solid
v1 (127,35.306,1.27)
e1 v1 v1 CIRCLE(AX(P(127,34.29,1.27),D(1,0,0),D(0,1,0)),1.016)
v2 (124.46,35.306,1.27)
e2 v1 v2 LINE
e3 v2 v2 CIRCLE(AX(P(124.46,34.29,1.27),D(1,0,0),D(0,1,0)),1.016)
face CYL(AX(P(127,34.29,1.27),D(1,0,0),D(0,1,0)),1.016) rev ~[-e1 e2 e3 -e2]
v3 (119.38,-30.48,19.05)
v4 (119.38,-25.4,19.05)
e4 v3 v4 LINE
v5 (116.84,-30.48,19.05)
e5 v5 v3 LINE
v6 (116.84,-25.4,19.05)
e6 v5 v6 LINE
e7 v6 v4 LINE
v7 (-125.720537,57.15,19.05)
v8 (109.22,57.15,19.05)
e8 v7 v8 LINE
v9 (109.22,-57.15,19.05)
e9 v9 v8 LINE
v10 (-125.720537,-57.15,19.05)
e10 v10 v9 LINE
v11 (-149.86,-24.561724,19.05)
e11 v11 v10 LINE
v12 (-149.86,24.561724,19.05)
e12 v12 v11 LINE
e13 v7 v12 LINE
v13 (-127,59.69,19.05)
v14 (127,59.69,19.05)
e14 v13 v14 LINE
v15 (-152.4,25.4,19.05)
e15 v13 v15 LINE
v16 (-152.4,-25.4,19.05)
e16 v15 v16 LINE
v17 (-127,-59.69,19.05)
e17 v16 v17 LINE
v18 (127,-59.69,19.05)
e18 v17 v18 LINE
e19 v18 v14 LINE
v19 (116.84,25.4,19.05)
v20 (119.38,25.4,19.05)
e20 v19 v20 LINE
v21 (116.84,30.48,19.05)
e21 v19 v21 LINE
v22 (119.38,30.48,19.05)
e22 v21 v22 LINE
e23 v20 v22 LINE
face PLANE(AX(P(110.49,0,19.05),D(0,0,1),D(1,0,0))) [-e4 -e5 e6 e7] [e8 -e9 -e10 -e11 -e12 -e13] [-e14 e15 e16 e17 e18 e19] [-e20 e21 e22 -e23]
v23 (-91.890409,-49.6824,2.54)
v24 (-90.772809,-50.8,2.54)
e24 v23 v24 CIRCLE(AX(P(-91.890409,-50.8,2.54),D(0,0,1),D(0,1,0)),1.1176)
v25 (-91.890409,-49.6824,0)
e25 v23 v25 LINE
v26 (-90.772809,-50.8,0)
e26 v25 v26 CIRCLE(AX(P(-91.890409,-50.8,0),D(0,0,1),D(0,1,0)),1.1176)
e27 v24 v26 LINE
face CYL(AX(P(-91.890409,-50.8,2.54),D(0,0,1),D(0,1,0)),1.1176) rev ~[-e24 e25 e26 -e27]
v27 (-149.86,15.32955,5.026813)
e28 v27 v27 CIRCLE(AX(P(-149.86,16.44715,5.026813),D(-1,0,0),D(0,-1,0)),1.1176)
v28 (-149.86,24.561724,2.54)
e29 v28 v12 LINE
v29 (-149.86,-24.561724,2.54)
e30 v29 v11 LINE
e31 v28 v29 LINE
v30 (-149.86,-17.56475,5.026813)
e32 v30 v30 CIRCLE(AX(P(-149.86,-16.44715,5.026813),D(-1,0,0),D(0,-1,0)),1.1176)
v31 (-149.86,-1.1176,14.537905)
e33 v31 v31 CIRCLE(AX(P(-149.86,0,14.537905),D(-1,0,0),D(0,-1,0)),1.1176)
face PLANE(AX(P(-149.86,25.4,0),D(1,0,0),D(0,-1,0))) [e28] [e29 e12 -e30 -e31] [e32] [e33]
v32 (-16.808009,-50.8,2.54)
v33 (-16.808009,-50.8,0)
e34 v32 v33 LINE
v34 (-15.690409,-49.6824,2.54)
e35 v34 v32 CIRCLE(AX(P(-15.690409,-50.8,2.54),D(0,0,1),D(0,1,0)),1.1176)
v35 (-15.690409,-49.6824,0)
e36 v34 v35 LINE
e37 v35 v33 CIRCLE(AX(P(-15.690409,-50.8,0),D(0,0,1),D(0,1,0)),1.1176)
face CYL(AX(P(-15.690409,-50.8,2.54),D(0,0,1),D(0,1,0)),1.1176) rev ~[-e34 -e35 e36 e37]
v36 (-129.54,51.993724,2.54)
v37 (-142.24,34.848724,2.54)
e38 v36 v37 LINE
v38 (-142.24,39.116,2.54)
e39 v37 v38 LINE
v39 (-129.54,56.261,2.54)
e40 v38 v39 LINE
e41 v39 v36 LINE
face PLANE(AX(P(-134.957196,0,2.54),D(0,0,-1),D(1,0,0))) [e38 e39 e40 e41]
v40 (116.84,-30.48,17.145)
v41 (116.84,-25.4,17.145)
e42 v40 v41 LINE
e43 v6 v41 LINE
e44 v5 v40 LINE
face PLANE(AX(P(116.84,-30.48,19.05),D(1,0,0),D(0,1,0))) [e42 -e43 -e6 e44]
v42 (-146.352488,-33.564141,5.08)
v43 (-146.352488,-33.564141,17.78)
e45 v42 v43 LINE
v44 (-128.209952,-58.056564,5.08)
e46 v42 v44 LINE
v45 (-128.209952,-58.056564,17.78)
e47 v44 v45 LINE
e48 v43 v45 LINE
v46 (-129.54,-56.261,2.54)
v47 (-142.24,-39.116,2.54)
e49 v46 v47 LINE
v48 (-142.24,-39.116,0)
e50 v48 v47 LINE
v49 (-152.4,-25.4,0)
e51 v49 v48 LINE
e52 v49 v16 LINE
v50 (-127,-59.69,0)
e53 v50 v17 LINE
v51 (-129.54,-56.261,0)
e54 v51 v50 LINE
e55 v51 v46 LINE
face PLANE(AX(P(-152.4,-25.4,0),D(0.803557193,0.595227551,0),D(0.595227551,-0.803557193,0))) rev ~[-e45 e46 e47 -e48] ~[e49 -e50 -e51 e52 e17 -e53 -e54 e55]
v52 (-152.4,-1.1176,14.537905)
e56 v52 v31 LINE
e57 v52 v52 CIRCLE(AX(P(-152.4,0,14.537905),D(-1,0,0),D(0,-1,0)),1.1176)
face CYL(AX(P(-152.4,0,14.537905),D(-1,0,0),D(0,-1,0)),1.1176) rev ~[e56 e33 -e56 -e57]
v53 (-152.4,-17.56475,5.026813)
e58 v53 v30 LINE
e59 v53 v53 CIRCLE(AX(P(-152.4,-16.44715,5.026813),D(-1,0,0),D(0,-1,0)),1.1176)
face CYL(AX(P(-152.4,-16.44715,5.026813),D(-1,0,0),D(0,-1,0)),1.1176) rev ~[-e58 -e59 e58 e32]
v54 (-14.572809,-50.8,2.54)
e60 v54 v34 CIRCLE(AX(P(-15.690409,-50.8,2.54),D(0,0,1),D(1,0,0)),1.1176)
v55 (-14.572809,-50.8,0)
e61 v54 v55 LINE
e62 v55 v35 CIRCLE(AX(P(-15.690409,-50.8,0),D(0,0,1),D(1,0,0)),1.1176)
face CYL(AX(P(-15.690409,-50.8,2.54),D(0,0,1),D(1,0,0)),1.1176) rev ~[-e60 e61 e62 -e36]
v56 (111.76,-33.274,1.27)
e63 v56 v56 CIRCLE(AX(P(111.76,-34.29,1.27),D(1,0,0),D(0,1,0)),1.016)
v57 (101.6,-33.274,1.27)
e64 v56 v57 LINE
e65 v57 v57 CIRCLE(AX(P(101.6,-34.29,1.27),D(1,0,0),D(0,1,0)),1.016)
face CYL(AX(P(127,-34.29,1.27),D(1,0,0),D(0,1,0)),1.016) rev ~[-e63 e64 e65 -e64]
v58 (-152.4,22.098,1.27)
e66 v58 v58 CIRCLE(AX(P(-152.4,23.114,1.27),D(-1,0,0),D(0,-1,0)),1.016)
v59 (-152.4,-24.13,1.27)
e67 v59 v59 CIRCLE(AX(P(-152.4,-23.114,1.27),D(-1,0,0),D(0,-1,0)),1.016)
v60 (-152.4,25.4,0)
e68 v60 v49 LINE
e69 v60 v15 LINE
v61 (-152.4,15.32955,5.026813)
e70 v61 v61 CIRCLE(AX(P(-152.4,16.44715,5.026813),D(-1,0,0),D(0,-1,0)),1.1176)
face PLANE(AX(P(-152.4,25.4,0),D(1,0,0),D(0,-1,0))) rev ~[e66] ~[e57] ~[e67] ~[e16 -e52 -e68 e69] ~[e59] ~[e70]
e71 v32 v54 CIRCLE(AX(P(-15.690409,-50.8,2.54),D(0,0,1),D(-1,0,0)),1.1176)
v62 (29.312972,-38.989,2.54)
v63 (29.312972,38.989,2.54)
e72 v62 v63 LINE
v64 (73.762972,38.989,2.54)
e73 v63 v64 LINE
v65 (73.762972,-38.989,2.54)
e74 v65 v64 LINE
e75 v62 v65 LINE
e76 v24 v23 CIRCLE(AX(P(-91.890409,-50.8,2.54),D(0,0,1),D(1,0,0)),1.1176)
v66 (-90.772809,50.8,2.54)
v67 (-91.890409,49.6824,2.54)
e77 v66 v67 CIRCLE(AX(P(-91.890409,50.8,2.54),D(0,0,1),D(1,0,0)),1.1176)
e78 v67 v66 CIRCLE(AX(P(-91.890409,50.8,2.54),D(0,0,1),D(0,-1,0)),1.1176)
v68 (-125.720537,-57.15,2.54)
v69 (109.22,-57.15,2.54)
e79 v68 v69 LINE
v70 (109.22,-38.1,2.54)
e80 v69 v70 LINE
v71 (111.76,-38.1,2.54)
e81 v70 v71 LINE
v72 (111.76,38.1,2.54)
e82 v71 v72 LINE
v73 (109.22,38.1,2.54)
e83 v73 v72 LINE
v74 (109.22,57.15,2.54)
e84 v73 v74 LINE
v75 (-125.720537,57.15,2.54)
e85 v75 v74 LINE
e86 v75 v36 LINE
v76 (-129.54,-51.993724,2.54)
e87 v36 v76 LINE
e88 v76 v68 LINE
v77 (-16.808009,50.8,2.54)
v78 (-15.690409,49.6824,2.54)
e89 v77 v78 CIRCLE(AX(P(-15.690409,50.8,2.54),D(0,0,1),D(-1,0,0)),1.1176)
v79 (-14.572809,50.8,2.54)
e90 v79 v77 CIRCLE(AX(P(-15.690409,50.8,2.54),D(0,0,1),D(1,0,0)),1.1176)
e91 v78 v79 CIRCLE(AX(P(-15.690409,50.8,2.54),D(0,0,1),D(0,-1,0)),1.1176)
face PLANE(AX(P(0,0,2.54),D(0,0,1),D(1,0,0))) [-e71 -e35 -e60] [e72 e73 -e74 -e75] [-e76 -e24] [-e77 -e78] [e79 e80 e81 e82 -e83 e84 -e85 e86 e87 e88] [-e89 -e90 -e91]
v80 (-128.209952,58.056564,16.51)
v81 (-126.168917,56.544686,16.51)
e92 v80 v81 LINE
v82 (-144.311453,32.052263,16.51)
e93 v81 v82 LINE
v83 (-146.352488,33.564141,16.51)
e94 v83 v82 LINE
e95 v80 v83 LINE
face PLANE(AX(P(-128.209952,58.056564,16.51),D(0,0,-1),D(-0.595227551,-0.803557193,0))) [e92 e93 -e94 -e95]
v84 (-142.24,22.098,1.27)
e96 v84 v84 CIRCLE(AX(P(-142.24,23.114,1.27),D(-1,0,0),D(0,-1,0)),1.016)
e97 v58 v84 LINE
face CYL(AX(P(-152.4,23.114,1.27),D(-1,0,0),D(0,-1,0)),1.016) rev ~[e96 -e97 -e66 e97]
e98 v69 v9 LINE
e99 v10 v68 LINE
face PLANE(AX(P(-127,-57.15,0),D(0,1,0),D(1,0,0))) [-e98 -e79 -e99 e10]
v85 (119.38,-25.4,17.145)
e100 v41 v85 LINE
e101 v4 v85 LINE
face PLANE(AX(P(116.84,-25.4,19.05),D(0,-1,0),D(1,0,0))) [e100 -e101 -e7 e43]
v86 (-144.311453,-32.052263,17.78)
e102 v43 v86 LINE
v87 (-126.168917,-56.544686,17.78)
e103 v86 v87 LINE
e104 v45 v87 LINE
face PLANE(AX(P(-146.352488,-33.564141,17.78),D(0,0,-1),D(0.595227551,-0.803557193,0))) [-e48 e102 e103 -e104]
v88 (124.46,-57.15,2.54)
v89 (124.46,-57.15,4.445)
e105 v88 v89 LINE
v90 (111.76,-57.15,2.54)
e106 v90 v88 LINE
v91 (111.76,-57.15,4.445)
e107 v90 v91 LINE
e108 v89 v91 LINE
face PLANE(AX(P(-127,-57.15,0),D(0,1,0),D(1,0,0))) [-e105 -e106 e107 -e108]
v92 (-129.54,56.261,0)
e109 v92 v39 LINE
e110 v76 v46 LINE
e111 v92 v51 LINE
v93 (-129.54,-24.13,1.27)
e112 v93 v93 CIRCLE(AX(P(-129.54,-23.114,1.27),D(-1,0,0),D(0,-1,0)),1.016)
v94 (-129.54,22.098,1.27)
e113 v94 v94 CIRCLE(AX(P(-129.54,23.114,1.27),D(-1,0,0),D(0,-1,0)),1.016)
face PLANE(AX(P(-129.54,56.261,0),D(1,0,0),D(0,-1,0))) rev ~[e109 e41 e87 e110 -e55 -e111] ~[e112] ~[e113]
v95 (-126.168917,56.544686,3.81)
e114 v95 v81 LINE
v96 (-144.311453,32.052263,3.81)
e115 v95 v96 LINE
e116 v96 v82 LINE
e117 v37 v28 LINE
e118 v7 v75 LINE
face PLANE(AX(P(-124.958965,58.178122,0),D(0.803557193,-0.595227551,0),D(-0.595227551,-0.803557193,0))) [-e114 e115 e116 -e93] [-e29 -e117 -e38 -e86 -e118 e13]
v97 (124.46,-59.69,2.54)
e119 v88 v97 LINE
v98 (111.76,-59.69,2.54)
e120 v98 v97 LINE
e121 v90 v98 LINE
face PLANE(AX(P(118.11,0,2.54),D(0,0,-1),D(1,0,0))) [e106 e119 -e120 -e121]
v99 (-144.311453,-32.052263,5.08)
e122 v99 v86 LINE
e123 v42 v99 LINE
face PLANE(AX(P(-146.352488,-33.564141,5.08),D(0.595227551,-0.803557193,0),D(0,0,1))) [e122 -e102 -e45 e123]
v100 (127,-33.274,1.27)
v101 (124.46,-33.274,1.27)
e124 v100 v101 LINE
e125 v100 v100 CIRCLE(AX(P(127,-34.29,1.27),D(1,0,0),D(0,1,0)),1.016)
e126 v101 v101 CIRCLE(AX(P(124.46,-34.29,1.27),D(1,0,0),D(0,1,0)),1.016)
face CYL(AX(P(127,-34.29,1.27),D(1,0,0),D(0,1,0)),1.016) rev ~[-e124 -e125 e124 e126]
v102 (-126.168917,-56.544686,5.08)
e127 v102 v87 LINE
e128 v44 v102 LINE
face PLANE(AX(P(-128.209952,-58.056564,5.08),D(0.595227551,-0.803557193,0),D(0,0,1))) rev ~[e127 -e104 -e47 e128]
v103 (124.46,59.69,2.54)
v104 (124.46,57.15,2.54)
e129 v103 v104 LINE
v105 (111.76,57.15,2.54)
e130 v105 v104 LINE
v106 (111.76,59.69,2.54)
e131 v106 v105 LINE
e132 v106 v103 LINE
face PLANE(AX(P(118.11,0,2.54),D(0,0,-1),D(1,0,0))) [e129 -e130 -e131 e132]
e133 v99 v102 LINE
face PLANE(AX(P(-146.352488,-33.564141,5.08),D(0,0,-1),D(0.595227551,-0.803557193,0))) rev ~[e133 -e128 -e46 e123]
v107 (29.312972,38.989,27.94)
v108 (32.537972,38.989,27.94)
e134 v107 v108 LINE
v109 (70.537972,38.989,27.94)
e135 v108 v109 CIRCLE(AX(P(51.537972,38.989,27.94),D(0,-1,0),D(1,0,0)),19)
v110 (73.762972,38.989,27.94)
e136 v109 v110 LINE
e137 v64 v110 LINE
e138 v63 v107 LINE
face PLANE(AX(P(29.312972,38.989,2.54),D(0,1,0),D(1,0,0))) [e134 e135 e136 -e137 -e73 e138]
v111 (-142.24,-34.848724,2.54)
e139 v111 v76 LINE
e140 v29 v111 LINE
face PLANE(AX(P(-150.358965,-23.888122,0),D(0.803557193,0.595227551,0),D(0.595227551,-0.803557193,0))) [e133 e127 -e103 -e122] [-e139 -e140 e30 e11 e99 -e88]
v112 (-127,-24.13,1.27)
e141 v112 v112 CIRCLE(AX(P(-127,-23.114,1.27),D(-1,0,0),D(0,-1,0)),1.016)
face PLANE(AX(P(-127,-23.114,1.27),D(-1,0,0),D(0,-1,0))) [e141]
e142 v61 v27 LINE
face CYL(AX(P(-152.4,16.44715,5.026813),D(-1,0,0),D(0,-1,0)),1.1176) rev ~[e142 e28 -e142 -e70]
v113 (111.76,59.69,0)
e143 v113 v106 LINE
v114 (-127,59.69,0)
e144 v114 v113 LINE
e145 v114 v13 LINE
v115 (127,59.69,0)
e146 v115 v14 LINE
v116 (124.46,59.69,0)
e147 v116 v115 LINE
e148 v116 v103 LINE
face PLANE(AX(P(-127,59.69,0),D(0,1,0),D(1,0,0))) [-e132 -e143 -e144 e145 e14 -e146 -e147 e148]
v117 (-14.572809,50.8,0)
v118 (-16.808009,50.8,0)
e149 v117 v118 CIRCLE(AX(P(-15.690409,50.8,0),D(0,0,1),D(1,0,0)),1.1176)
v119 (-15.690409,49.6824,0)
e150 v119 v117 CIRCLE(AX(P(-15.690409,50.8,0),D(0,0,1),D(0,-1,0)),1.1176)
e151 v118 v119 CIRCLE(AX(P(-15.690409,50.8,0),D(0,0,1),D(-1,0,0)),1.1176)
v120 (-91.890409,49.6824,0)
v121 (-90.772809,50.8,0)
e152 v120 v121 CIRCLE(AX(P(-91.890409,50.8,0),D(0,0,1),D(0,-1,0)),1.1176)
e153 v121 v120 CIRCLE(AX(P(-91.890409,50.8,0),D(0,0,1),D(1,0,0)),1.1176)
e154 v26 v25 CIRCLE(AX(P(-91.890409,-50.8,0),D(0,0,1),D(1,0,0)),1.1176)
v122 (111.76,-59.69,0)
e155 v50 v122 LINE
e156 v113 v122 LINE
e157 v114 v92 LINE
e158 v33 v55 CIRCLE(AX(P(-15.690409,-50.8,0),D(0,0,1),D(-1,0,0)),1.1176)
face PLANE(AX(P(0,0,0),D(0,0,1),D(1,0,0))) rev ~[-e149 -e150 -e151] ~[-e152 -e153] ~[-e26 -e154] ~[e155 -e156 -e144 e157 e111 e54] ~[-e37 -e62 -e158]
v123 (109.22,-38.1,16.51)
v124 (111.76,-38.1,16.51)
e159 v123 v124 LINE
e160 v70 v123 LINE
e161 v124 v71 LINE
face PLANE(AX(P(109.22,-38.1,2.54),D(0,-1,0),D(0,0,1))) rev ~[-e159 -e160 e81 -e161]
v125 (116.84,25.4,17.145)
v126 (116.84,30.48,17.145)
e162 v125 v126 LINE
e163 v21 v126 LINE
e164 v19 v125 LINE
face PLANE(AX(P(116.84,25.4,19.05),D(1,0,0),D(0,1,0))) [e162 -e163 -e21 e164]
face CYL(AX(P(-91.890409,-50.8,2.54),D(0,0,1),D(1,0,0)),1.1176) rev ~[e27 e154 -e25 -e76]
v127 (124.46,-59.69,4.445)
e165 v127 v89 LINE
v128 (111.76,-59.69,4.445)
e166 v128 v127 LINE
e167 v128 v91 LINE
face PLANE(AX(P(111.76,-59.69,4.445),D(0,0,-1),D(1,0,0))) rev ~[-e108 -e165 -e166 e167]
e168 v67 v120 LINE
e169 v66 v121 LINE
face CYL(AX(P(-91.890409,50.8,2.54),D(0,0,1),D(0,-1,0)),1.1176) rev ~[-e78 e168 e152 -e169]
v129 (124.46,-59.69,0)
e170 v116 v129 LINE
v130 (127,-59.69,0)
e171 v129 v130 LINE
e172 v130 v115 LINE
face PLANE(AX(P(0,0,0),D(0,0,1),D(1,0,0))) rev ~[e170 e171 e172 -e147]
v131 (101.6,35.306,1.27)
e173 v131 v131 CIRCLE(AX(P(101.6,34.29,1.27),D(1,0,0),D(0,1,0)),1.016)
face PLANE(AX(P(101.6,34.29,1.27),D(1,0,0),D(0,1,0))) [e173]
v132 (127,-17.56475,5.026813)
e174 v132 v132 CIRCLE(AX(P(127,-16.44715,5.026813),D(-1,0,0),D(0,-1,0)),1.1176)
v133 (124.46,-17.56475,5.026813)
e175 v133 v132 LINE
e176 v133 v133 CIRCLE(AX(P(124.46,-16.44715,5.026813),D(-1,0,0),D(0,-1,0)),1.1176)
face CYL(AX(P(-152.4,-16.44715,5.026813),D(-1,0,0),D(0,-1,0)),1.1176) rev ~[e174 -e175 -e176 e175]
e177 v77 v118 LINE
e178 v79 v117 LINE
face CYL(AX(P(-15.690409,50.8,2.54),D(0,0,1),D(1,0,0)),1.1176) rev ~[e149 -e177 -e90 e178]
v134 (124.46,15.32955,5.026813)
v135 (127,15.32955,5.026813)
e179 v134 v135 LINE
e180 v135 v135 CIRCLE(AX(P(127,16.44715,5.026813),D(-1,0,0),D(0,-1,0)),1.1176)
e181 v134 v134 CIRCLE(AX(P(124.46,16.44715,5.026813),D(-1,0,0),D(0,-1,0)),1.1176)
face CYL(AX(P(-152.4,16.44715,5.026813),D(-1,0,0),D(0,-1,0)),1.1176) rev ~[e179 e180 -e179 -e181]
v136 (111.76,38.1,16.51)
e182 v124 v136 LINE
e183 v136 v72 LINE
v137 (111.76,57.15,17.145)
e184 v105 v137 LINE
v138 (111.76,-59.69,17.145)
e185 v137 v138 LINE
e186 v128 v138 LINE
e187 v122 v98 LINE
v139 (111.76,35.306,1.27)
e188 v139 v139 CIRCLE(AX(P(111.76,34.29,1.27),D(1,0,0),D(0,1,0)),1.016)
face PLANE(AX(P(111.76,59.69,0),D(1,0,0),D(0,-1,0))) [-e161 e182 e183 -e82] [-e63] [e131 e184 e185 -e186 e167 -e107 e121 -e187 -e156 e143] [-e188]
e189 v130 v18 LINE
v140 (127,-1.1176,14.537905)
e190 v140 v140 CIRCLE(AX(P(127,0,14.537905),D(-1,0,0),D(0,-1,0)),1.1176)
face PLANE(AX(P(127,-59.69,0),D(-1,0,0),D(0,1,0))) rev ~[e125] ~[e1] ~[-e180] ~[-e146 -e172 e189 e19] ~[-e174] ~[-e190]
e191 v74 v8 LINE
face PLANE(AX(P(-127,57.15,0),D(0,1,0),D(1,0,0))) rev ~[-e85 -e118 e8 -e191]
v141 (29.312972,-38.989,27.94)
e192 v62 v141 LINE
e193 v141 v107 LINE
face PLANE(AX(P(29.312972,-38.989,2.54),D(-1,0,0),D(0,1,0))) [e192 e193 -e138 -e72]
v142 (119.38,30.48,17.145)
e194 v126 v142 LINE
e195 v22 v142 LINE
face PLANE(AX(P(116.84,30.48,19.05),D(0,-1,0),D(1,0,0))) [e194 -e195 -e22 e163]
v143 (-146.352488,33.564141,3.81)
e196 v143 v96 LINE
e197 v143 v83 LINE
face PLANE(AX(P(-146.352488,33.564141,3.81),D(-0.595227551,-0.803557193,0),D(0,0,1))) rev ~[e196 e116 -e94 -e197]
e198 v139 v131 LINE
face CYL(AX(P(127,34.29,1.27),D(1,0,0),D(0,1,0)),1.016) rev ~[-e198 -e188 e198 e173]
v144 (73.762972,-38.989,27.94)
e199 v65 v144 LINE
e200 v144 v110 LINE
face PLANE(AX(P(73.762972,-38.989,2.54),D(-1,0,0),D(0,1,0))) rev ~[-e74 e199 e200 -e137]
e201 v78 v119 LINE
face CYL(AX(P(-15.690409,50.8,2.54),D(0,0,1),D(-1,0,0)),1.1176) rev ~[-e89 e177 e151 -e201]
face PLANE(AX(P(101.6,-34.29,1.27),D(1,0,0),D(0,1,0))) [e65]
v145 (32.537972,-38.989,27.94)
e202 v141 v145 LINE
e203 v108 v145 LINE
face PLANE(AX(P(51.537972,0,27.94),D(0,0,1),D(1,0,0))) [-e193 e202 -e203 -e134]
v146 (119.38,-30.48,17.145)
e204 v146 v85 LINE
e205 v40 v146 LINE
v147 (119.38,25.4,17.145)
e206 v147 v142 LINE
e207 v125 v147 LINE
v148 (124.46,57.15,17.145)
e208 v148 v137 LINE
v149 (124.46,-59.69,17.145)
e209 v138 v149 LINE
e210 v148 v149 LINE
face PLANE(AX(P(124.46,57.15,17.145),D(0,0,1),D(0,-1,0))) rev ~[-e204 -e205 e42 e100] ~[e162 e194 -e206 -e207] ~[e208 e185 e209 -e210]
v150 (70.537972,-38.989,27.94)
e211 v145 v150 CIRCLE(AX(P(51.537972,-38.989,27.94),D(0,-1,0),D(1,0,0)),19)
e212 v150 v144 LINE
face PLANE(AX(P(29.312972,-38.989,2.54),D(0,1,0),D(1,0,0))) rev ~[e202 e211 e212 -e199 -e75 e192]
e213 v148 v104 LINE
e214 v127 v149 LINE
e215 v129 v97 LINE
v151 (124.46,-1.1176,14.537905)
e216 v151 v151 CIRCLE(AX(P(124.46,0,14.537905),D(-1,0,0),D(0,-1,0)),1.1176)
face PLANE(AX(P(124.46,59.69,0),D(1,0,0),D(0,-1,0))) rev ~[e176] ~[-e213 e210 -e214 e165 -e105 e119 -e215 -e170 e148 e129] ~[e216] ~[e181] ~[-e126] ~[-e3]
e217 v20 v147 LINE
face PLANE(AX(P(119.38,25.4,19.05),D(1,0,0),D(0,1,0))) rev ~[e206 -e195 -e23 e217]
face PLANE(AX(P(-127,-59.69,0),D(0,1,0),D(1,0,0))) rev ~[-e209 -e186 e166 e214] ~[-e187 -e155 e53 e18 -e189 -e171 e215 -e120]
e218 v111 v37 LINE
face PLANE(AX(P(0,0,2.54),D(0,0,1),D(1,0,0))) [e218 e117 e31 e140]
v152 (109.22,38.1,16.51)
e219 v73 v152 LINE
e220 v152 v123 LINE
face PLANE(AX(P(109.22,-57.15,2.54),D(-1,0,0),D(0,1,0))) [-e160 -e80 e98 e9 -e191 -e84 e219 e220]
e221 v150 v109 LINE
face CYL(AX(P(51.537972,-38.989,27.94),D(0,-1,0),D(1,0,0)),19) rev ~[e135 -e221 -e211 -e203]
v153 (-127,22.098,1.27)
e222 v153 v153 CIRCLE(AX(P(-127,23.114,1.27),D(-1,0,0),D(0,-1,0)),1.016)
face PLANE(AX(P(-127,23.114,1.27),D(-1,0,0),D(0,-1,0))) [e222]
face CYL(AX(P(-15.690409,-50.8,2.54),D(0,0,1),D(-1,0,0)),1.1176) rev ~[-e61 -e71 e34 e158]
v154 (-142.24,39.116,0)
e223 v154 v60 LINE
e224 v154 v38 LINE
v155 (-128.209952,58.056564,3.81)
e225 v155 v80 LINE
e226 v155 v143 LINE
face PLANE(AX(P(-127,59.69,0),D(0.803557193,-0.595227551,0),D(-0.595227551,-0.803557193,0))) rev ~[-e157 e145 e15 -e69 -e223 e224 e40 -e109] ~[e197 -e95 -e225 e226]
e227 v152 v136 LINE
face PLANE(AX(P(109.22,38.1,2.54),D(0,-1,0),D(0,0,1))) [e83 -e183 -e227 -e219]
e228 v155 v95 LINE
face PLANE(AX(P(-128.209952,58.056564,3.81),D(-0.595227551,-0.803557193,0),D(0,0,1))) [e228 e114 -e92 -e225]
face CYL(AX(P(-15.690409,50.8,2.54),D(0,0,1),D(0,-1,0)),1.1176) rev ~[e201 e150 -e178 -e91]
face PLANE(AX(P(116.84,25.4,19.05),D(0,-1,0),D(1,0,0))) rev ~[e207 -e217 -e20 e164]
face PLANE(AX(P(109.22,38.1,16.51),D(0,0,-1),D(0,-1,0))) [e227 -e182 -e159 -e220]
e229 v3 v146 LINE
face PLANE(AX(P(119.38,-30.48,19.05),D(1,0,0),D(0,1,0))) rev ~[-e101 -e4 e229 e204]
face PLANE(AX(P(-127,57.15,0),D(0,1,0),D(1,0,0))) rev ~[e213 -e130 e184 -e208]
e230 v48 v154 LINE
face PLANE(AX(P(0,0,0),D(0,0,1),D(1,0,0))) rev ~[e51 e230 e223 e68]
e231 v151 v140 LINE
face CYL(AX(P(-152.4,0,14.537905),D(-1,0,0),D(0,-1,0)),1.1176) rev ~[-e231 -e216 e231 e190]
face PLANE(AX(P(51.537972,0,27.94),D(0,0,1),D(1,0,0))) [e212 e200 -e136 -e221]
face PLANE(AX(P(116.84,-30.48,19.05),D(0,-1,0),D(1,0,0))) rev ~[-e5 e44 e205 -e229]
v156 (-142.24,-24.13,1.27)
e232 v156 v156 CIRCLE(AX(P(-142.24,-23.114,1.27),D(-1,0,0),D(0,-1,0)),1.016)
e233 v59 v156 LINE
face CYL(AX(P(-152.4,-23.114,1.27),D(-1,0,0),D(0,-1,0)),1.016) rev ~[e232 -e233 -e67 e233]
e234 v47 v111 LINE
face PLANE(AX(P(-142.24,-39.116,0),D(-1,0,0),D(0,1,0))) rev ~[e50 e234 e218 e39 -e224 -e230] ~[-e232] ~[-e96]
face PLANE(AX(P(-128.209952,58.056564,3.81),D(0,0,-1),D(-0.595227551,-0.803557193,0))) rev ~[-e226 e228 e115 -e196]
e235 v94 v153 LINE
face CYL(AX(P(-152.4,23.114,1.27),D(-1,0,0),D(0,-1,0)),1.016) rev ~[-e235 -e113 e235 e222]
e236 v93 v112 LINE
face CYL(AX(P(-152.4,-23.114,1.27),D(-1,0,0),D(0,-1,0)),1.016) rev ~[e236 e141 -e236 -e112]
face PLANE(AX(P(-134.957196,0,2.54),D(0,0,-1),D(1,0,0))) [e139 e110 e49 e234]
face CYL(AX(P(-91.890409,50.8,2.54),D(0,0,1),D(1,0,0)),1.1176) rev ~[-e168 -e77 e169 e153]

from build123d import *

# Parameters (mm, degrees)
F0_W      = 254
F0_H      = 119.38
F1_DEPTH  = 19.05
F2_T      = -2.54
F3_W      = 30.48
F3_H      = 12.7
F4_DEPTH  = 2.54
F5_W      = 12.7
F5_H      = 119.38
F6_DEPTH  = 2.54
F7_R      = 1.016
F8_DEPTH  = 25.4
F9_R      = 1.016
F10_DEPTH = 25.4
F11_W     = 30.48
F11_H     = 12.7
F12_DEPTH = 2.54
F13_W     = 12.7
F13_H     = 12.7
F14_DEPTH = 101.6
F15_R     = 1.1176
F16_DEPTH = 84.582
F17_R     = 1.1176
F18_DEPTH = 279.4
F20_DEPTH = 2.54
F21_W     = 44.45
F21_H     = 77.978
F22_DEPTH = 25.4
F23_R     = 19
F24_DEPTH = 77.978
F25_W     = 114.3
F25_H     = 1.905
F26_DEPTH = 12.7
F27_W     = 2.54
F27_H     = 114.3
F28_DEPTH = 16.51
F29_W     = 2.54
F29_H     = 5.08
F30_DEPTH = 25.4
F31_W     = 76.2
F31_H     = 13.97
F32_DEPTH = 5.08


with BuildPart() as f1:
    # F0 (on Top) → F1 (new body)
    with BuildSketch(Plane.XY):
        Rectangle(F0_W, F0_H)
        Polygon((-152.4, -25.4), (-127, -59.69), (-127, 59.69), (-152.4, 25.4), align=None)
    extrude(amount=F1_DEPTH)

    # F2
    f2_openings = [f1.faces().sort_by_distance(p)[0] for p in [
        (-9.181331, 0, 19.05),
    ]]
    offset(amount=F2_T, openings=f2_openings)

    # F3 (on face) → F4 (cut)
    with BuildSketch(Plane(origin=(-110.5541186891, -81.8919397697, 0), x_dir=(0.5952275506, -0.8035571933, 0), z_dir=(-0.8035571933, -0.5952275506, 0))):
        with Locations((-44.9023260044, 11.43)):
            Rectangle(F3_W, F3_H)
    extrude(amount=-F4_DEPTH, mode=Mode.SUBTRACT)

    # F5 (on face) → F6 (cut)
    with BuildSketch(Plane(origin=(0, 0, 0), x_dir=(1, 0, 0), z_dir=(0, 0, -1))):
        Polygon((-129.54, -56.261), (-129.54, 56.261), (-142.24, 39.116), (-142.24, -39.116), align=None)
        with Locations((118.11, 0)):
            Rectangle(F5_W, F5_H)
    extrude(amount=-F6_DEPTH, mode=Mode.SUBTRACT)

    # F7 (on face) → F8 (cut)
    with BuildSketch(Plane(origin=(-152.4, 0, 0), x_dir=(0, -1, 0), z_dir=(-1, 0, 0))):
        with Locations((-23.114, 1.27)):
            Circle(F7_R)
        with Locations((23.114, 1.27)):
            Circle(F7_R)
    extrude(amount=-F8_DEPTH, mode=Mode.SUBTRACT)

    # F9 (on face) → F10 (cut)
    with BuildSketch(Plane.YZ.offset(127)):
        with Locations((-34.29, 1.27)):
            Circle(F9_R)
        with Locations((34.29, 1.27)):
            Circle(F9_R)
    extrude(amount=-F10_DEPTH, mode=Mode.SUBTRACT)

    # F11 (on face) → F12 (cut)
    with BuildSketch(Plane(origin=(-110.5541186891, 81.8919397697, 0), x_dir=(-0.5952275506, -0.8035571933, 0), z_dir=(-0.8035571933, 0.5952275506, 0))):
        with Locations((44.9023260044, 10.16)):
            Rectangle(F11_W, F11_H)
    extrude(amount=-F12_DEPTH, mode=Mode.SUBTRACT)

    # F13 (on face) → F14 (cut)
    with BuildSketch(Plane.XZ.offset(59.69)):
        with Locations((118.11, 10.795)):
            Rectangle(F13_W, F13_H)
    extrude(amount=-F14_DEPTH, mode=Mode.SUBTRACT)

    # F15 (on Right) → F16 (cut, symmetric)
    with BuildSketch(Plane.YZ):
        with Locations((0, 11.811)):
            Circle(F15_R)
        with Locations((-17.78, 5.08)):
            Circle(F15_R)
        with Locations((17.78, 5.08)):
            Circle(F15_R)
    extrude(amount=F16_DEPTH, both=True, mode=Mode.SUBTRACT)

    # F17 (on face) → F18 (cut)
    with BuildSketch(Plane(origin=(-152.4, 0, 0), x_dir=(0, -1, 0), z_dir=(-1, 0, 0))):
        with Locations((-16.4471499023, 5.0268133191)):
            Circle(F17_R)
        with Locations((16.4471499023, 5.0268133191)):
            Circle(F17_R)
        with Locations((0, 14.5379047776)):
            Circle(F17_R)
    extrude(amount=-F18_DEPTH, mode=Mode.SUBTRACT)

    # F19 (on face) → F20 (cut)
    with BuildSketch(Plane.XY.offset(2.54)):
        with BuildLine():
            Line((-91.8904091179, -50.8), (-90.7728091179, -50.8))
            ThreePointArc((-90.7728091179, -50.8), (-91.1001465793, -50.0097374613), (-91.8904091179, -49.6824))
            Line((-91.8904091179, -49.6824), (-91.8904091179, -50.8))
        make_face()
        with BuildLine():
            ThreePointArc((-91.8904091179, -49.6824), (-92.6806716566, -51.5902625387), (-90.7728091179, -50.8))
            Line((-90.7728091179, -50.8), (-91.8904091179, -50.8))
            Line((-91.8904091179, -50.8), (-91.8904091179, -49.6824))
        make_face()
        with BuildLine():
            Line((-15.6904091179, -50.8), (-16.8080091179, -50.8))
            ThreePointArc((-16.8080091179, -50.8), (-15.6904091179, -51.9176), (-14.5728091179, -50.8))
            ThreePointArc((-14.5728091179, -50.8), (-14.9001465793, -50.0097374613), (-15.6904091179, -49.6824))
            Line((-15.6904091179, -49.6824), (-15.6904091179, -50.8))
        make_face()
        with BuildLine():
            ThreePointArc((-15.6904091179, -49.6824), (-16.4806716566, -50.0097374613), (-16.8080091179, -50.8))
            Line((-16.8080091179, -50.8), (-15.6904091179, -50.8))
            Line((-15.6904091179, -50.8), (-15.6904091179, -49.6824))
        make_face()
        with BuildLine():
            Line((-15.6904091179, 50.8), (-15.6904091179, 49.6824))
            ThreePointArc((-15.6904091179, 49.6824), (-14.9001465793, 50.0097374613), (-14.5728091179, 50.8))
            ThreePointArc((-14.5728091179, 50.8), (-15.6904091179, 51.9176), (-16.8080091179, 50.8))
            Line((-16.8080091179, 50.8), (-15.6904091179, 50.8))
        make_face()
        with BuildLine():
            ThreePointArc((-16.8080091179, 50.8), (-16.4806716566, 50.0097374613), (-15.6904091179, 49.6824))
            Line((-15.6904091179, 49.6824), (-15.6904091179, 50.8))
            Line((-15.6904091179, 50.8), (-16.8080091179, 50.8))
        make_face()
        with BuildLine():
            ThreePointArc((-90.7728091179, 50.8), (-92.6806716566, 51.5902625387), (-91.8904091179, 49.6824))
            Line((-91.8904091179, 49.6824), (-91.8904091179, 50.8))
            Line((-91.8904091179, 50.8), (-90.7728091179, 50.8))
        make_face()
        with BuildLine():
            Line((-91.8904091179, 50.8), (-91.8904091179, 49.6824))
            ThreePointArc((-91.8904091179, 49.6824), (-91.1001465793, 50.0097374613), (-90.7728091179, 50.8))
            Line((-90.7728091179, 50.8), (-91.8904091179, 50.8))
        make_face()
    extrude(amount=-F20_DEPTH, mode=Mode.SUBTRACT)

    # F21 (on face) → F22 (join)
    with BuildSketch(Plane.XY.offset(2.54)):
        with Locations((51.5379719436, 0)):
            Rectangle(F21_W, F21_H)
    extrude(amount=F22_DEPTH)

    # F23 (on face) → F24 (cut)
    with BuildSketch(Plane.XZ.offset(38.989)):
        with Locations((51.5379719436, 27.94)):
            Circle(F23_R)
    extrude(amount=-F24_DEPTH, mode=Mode.SUBTRACT)

    # F25 (on face) → F26 (join)
    with BuildSketch(Plane(origin=(124.46, 0, 0), x_dir=(0, -1, 0), z_dir=(-1, 0, 0))):
        with Locations((0, 18.0975)):
            Rectangle(F25_W, F25_H)
    extrude(amount=F26_DEPTH)

    # F27 (on face) → F28 (join)
    with BuildSketch(Plane.XY.offset(2.54)):
        with Locations((110.49, 0)):
            Rectangle(F27_W, F27_H)
    extrude(amount=F28_DEPTH)

    # F29 (on face) → F30 (cut)
    with BuildSketch(Plane.XY.offset(19.05)):
        with Locations((118.11, 27.94)):
            Rectangle(F29_W, F29_H)
        with Locations((118.11, -27.94)):
            Rectangle(F29_W, F29_H)
    extrude(amount=-F30_DEPTH, mode=Mode.SUBTRACT)

    # F31 (on face) → F32 (cut)
    with BuildSketch(Plane(origin=(109.22, 0, 0), x_dir=(0, -1, 0), z_dir=(-1, 0, 0))):
        with Locations((0, 9.525)):
            Rectangle(F31_W, F31_H)
    extrude(amount=-F32_DEPTH, mode=Mode.SUBTRACT)


solid = f1.part
